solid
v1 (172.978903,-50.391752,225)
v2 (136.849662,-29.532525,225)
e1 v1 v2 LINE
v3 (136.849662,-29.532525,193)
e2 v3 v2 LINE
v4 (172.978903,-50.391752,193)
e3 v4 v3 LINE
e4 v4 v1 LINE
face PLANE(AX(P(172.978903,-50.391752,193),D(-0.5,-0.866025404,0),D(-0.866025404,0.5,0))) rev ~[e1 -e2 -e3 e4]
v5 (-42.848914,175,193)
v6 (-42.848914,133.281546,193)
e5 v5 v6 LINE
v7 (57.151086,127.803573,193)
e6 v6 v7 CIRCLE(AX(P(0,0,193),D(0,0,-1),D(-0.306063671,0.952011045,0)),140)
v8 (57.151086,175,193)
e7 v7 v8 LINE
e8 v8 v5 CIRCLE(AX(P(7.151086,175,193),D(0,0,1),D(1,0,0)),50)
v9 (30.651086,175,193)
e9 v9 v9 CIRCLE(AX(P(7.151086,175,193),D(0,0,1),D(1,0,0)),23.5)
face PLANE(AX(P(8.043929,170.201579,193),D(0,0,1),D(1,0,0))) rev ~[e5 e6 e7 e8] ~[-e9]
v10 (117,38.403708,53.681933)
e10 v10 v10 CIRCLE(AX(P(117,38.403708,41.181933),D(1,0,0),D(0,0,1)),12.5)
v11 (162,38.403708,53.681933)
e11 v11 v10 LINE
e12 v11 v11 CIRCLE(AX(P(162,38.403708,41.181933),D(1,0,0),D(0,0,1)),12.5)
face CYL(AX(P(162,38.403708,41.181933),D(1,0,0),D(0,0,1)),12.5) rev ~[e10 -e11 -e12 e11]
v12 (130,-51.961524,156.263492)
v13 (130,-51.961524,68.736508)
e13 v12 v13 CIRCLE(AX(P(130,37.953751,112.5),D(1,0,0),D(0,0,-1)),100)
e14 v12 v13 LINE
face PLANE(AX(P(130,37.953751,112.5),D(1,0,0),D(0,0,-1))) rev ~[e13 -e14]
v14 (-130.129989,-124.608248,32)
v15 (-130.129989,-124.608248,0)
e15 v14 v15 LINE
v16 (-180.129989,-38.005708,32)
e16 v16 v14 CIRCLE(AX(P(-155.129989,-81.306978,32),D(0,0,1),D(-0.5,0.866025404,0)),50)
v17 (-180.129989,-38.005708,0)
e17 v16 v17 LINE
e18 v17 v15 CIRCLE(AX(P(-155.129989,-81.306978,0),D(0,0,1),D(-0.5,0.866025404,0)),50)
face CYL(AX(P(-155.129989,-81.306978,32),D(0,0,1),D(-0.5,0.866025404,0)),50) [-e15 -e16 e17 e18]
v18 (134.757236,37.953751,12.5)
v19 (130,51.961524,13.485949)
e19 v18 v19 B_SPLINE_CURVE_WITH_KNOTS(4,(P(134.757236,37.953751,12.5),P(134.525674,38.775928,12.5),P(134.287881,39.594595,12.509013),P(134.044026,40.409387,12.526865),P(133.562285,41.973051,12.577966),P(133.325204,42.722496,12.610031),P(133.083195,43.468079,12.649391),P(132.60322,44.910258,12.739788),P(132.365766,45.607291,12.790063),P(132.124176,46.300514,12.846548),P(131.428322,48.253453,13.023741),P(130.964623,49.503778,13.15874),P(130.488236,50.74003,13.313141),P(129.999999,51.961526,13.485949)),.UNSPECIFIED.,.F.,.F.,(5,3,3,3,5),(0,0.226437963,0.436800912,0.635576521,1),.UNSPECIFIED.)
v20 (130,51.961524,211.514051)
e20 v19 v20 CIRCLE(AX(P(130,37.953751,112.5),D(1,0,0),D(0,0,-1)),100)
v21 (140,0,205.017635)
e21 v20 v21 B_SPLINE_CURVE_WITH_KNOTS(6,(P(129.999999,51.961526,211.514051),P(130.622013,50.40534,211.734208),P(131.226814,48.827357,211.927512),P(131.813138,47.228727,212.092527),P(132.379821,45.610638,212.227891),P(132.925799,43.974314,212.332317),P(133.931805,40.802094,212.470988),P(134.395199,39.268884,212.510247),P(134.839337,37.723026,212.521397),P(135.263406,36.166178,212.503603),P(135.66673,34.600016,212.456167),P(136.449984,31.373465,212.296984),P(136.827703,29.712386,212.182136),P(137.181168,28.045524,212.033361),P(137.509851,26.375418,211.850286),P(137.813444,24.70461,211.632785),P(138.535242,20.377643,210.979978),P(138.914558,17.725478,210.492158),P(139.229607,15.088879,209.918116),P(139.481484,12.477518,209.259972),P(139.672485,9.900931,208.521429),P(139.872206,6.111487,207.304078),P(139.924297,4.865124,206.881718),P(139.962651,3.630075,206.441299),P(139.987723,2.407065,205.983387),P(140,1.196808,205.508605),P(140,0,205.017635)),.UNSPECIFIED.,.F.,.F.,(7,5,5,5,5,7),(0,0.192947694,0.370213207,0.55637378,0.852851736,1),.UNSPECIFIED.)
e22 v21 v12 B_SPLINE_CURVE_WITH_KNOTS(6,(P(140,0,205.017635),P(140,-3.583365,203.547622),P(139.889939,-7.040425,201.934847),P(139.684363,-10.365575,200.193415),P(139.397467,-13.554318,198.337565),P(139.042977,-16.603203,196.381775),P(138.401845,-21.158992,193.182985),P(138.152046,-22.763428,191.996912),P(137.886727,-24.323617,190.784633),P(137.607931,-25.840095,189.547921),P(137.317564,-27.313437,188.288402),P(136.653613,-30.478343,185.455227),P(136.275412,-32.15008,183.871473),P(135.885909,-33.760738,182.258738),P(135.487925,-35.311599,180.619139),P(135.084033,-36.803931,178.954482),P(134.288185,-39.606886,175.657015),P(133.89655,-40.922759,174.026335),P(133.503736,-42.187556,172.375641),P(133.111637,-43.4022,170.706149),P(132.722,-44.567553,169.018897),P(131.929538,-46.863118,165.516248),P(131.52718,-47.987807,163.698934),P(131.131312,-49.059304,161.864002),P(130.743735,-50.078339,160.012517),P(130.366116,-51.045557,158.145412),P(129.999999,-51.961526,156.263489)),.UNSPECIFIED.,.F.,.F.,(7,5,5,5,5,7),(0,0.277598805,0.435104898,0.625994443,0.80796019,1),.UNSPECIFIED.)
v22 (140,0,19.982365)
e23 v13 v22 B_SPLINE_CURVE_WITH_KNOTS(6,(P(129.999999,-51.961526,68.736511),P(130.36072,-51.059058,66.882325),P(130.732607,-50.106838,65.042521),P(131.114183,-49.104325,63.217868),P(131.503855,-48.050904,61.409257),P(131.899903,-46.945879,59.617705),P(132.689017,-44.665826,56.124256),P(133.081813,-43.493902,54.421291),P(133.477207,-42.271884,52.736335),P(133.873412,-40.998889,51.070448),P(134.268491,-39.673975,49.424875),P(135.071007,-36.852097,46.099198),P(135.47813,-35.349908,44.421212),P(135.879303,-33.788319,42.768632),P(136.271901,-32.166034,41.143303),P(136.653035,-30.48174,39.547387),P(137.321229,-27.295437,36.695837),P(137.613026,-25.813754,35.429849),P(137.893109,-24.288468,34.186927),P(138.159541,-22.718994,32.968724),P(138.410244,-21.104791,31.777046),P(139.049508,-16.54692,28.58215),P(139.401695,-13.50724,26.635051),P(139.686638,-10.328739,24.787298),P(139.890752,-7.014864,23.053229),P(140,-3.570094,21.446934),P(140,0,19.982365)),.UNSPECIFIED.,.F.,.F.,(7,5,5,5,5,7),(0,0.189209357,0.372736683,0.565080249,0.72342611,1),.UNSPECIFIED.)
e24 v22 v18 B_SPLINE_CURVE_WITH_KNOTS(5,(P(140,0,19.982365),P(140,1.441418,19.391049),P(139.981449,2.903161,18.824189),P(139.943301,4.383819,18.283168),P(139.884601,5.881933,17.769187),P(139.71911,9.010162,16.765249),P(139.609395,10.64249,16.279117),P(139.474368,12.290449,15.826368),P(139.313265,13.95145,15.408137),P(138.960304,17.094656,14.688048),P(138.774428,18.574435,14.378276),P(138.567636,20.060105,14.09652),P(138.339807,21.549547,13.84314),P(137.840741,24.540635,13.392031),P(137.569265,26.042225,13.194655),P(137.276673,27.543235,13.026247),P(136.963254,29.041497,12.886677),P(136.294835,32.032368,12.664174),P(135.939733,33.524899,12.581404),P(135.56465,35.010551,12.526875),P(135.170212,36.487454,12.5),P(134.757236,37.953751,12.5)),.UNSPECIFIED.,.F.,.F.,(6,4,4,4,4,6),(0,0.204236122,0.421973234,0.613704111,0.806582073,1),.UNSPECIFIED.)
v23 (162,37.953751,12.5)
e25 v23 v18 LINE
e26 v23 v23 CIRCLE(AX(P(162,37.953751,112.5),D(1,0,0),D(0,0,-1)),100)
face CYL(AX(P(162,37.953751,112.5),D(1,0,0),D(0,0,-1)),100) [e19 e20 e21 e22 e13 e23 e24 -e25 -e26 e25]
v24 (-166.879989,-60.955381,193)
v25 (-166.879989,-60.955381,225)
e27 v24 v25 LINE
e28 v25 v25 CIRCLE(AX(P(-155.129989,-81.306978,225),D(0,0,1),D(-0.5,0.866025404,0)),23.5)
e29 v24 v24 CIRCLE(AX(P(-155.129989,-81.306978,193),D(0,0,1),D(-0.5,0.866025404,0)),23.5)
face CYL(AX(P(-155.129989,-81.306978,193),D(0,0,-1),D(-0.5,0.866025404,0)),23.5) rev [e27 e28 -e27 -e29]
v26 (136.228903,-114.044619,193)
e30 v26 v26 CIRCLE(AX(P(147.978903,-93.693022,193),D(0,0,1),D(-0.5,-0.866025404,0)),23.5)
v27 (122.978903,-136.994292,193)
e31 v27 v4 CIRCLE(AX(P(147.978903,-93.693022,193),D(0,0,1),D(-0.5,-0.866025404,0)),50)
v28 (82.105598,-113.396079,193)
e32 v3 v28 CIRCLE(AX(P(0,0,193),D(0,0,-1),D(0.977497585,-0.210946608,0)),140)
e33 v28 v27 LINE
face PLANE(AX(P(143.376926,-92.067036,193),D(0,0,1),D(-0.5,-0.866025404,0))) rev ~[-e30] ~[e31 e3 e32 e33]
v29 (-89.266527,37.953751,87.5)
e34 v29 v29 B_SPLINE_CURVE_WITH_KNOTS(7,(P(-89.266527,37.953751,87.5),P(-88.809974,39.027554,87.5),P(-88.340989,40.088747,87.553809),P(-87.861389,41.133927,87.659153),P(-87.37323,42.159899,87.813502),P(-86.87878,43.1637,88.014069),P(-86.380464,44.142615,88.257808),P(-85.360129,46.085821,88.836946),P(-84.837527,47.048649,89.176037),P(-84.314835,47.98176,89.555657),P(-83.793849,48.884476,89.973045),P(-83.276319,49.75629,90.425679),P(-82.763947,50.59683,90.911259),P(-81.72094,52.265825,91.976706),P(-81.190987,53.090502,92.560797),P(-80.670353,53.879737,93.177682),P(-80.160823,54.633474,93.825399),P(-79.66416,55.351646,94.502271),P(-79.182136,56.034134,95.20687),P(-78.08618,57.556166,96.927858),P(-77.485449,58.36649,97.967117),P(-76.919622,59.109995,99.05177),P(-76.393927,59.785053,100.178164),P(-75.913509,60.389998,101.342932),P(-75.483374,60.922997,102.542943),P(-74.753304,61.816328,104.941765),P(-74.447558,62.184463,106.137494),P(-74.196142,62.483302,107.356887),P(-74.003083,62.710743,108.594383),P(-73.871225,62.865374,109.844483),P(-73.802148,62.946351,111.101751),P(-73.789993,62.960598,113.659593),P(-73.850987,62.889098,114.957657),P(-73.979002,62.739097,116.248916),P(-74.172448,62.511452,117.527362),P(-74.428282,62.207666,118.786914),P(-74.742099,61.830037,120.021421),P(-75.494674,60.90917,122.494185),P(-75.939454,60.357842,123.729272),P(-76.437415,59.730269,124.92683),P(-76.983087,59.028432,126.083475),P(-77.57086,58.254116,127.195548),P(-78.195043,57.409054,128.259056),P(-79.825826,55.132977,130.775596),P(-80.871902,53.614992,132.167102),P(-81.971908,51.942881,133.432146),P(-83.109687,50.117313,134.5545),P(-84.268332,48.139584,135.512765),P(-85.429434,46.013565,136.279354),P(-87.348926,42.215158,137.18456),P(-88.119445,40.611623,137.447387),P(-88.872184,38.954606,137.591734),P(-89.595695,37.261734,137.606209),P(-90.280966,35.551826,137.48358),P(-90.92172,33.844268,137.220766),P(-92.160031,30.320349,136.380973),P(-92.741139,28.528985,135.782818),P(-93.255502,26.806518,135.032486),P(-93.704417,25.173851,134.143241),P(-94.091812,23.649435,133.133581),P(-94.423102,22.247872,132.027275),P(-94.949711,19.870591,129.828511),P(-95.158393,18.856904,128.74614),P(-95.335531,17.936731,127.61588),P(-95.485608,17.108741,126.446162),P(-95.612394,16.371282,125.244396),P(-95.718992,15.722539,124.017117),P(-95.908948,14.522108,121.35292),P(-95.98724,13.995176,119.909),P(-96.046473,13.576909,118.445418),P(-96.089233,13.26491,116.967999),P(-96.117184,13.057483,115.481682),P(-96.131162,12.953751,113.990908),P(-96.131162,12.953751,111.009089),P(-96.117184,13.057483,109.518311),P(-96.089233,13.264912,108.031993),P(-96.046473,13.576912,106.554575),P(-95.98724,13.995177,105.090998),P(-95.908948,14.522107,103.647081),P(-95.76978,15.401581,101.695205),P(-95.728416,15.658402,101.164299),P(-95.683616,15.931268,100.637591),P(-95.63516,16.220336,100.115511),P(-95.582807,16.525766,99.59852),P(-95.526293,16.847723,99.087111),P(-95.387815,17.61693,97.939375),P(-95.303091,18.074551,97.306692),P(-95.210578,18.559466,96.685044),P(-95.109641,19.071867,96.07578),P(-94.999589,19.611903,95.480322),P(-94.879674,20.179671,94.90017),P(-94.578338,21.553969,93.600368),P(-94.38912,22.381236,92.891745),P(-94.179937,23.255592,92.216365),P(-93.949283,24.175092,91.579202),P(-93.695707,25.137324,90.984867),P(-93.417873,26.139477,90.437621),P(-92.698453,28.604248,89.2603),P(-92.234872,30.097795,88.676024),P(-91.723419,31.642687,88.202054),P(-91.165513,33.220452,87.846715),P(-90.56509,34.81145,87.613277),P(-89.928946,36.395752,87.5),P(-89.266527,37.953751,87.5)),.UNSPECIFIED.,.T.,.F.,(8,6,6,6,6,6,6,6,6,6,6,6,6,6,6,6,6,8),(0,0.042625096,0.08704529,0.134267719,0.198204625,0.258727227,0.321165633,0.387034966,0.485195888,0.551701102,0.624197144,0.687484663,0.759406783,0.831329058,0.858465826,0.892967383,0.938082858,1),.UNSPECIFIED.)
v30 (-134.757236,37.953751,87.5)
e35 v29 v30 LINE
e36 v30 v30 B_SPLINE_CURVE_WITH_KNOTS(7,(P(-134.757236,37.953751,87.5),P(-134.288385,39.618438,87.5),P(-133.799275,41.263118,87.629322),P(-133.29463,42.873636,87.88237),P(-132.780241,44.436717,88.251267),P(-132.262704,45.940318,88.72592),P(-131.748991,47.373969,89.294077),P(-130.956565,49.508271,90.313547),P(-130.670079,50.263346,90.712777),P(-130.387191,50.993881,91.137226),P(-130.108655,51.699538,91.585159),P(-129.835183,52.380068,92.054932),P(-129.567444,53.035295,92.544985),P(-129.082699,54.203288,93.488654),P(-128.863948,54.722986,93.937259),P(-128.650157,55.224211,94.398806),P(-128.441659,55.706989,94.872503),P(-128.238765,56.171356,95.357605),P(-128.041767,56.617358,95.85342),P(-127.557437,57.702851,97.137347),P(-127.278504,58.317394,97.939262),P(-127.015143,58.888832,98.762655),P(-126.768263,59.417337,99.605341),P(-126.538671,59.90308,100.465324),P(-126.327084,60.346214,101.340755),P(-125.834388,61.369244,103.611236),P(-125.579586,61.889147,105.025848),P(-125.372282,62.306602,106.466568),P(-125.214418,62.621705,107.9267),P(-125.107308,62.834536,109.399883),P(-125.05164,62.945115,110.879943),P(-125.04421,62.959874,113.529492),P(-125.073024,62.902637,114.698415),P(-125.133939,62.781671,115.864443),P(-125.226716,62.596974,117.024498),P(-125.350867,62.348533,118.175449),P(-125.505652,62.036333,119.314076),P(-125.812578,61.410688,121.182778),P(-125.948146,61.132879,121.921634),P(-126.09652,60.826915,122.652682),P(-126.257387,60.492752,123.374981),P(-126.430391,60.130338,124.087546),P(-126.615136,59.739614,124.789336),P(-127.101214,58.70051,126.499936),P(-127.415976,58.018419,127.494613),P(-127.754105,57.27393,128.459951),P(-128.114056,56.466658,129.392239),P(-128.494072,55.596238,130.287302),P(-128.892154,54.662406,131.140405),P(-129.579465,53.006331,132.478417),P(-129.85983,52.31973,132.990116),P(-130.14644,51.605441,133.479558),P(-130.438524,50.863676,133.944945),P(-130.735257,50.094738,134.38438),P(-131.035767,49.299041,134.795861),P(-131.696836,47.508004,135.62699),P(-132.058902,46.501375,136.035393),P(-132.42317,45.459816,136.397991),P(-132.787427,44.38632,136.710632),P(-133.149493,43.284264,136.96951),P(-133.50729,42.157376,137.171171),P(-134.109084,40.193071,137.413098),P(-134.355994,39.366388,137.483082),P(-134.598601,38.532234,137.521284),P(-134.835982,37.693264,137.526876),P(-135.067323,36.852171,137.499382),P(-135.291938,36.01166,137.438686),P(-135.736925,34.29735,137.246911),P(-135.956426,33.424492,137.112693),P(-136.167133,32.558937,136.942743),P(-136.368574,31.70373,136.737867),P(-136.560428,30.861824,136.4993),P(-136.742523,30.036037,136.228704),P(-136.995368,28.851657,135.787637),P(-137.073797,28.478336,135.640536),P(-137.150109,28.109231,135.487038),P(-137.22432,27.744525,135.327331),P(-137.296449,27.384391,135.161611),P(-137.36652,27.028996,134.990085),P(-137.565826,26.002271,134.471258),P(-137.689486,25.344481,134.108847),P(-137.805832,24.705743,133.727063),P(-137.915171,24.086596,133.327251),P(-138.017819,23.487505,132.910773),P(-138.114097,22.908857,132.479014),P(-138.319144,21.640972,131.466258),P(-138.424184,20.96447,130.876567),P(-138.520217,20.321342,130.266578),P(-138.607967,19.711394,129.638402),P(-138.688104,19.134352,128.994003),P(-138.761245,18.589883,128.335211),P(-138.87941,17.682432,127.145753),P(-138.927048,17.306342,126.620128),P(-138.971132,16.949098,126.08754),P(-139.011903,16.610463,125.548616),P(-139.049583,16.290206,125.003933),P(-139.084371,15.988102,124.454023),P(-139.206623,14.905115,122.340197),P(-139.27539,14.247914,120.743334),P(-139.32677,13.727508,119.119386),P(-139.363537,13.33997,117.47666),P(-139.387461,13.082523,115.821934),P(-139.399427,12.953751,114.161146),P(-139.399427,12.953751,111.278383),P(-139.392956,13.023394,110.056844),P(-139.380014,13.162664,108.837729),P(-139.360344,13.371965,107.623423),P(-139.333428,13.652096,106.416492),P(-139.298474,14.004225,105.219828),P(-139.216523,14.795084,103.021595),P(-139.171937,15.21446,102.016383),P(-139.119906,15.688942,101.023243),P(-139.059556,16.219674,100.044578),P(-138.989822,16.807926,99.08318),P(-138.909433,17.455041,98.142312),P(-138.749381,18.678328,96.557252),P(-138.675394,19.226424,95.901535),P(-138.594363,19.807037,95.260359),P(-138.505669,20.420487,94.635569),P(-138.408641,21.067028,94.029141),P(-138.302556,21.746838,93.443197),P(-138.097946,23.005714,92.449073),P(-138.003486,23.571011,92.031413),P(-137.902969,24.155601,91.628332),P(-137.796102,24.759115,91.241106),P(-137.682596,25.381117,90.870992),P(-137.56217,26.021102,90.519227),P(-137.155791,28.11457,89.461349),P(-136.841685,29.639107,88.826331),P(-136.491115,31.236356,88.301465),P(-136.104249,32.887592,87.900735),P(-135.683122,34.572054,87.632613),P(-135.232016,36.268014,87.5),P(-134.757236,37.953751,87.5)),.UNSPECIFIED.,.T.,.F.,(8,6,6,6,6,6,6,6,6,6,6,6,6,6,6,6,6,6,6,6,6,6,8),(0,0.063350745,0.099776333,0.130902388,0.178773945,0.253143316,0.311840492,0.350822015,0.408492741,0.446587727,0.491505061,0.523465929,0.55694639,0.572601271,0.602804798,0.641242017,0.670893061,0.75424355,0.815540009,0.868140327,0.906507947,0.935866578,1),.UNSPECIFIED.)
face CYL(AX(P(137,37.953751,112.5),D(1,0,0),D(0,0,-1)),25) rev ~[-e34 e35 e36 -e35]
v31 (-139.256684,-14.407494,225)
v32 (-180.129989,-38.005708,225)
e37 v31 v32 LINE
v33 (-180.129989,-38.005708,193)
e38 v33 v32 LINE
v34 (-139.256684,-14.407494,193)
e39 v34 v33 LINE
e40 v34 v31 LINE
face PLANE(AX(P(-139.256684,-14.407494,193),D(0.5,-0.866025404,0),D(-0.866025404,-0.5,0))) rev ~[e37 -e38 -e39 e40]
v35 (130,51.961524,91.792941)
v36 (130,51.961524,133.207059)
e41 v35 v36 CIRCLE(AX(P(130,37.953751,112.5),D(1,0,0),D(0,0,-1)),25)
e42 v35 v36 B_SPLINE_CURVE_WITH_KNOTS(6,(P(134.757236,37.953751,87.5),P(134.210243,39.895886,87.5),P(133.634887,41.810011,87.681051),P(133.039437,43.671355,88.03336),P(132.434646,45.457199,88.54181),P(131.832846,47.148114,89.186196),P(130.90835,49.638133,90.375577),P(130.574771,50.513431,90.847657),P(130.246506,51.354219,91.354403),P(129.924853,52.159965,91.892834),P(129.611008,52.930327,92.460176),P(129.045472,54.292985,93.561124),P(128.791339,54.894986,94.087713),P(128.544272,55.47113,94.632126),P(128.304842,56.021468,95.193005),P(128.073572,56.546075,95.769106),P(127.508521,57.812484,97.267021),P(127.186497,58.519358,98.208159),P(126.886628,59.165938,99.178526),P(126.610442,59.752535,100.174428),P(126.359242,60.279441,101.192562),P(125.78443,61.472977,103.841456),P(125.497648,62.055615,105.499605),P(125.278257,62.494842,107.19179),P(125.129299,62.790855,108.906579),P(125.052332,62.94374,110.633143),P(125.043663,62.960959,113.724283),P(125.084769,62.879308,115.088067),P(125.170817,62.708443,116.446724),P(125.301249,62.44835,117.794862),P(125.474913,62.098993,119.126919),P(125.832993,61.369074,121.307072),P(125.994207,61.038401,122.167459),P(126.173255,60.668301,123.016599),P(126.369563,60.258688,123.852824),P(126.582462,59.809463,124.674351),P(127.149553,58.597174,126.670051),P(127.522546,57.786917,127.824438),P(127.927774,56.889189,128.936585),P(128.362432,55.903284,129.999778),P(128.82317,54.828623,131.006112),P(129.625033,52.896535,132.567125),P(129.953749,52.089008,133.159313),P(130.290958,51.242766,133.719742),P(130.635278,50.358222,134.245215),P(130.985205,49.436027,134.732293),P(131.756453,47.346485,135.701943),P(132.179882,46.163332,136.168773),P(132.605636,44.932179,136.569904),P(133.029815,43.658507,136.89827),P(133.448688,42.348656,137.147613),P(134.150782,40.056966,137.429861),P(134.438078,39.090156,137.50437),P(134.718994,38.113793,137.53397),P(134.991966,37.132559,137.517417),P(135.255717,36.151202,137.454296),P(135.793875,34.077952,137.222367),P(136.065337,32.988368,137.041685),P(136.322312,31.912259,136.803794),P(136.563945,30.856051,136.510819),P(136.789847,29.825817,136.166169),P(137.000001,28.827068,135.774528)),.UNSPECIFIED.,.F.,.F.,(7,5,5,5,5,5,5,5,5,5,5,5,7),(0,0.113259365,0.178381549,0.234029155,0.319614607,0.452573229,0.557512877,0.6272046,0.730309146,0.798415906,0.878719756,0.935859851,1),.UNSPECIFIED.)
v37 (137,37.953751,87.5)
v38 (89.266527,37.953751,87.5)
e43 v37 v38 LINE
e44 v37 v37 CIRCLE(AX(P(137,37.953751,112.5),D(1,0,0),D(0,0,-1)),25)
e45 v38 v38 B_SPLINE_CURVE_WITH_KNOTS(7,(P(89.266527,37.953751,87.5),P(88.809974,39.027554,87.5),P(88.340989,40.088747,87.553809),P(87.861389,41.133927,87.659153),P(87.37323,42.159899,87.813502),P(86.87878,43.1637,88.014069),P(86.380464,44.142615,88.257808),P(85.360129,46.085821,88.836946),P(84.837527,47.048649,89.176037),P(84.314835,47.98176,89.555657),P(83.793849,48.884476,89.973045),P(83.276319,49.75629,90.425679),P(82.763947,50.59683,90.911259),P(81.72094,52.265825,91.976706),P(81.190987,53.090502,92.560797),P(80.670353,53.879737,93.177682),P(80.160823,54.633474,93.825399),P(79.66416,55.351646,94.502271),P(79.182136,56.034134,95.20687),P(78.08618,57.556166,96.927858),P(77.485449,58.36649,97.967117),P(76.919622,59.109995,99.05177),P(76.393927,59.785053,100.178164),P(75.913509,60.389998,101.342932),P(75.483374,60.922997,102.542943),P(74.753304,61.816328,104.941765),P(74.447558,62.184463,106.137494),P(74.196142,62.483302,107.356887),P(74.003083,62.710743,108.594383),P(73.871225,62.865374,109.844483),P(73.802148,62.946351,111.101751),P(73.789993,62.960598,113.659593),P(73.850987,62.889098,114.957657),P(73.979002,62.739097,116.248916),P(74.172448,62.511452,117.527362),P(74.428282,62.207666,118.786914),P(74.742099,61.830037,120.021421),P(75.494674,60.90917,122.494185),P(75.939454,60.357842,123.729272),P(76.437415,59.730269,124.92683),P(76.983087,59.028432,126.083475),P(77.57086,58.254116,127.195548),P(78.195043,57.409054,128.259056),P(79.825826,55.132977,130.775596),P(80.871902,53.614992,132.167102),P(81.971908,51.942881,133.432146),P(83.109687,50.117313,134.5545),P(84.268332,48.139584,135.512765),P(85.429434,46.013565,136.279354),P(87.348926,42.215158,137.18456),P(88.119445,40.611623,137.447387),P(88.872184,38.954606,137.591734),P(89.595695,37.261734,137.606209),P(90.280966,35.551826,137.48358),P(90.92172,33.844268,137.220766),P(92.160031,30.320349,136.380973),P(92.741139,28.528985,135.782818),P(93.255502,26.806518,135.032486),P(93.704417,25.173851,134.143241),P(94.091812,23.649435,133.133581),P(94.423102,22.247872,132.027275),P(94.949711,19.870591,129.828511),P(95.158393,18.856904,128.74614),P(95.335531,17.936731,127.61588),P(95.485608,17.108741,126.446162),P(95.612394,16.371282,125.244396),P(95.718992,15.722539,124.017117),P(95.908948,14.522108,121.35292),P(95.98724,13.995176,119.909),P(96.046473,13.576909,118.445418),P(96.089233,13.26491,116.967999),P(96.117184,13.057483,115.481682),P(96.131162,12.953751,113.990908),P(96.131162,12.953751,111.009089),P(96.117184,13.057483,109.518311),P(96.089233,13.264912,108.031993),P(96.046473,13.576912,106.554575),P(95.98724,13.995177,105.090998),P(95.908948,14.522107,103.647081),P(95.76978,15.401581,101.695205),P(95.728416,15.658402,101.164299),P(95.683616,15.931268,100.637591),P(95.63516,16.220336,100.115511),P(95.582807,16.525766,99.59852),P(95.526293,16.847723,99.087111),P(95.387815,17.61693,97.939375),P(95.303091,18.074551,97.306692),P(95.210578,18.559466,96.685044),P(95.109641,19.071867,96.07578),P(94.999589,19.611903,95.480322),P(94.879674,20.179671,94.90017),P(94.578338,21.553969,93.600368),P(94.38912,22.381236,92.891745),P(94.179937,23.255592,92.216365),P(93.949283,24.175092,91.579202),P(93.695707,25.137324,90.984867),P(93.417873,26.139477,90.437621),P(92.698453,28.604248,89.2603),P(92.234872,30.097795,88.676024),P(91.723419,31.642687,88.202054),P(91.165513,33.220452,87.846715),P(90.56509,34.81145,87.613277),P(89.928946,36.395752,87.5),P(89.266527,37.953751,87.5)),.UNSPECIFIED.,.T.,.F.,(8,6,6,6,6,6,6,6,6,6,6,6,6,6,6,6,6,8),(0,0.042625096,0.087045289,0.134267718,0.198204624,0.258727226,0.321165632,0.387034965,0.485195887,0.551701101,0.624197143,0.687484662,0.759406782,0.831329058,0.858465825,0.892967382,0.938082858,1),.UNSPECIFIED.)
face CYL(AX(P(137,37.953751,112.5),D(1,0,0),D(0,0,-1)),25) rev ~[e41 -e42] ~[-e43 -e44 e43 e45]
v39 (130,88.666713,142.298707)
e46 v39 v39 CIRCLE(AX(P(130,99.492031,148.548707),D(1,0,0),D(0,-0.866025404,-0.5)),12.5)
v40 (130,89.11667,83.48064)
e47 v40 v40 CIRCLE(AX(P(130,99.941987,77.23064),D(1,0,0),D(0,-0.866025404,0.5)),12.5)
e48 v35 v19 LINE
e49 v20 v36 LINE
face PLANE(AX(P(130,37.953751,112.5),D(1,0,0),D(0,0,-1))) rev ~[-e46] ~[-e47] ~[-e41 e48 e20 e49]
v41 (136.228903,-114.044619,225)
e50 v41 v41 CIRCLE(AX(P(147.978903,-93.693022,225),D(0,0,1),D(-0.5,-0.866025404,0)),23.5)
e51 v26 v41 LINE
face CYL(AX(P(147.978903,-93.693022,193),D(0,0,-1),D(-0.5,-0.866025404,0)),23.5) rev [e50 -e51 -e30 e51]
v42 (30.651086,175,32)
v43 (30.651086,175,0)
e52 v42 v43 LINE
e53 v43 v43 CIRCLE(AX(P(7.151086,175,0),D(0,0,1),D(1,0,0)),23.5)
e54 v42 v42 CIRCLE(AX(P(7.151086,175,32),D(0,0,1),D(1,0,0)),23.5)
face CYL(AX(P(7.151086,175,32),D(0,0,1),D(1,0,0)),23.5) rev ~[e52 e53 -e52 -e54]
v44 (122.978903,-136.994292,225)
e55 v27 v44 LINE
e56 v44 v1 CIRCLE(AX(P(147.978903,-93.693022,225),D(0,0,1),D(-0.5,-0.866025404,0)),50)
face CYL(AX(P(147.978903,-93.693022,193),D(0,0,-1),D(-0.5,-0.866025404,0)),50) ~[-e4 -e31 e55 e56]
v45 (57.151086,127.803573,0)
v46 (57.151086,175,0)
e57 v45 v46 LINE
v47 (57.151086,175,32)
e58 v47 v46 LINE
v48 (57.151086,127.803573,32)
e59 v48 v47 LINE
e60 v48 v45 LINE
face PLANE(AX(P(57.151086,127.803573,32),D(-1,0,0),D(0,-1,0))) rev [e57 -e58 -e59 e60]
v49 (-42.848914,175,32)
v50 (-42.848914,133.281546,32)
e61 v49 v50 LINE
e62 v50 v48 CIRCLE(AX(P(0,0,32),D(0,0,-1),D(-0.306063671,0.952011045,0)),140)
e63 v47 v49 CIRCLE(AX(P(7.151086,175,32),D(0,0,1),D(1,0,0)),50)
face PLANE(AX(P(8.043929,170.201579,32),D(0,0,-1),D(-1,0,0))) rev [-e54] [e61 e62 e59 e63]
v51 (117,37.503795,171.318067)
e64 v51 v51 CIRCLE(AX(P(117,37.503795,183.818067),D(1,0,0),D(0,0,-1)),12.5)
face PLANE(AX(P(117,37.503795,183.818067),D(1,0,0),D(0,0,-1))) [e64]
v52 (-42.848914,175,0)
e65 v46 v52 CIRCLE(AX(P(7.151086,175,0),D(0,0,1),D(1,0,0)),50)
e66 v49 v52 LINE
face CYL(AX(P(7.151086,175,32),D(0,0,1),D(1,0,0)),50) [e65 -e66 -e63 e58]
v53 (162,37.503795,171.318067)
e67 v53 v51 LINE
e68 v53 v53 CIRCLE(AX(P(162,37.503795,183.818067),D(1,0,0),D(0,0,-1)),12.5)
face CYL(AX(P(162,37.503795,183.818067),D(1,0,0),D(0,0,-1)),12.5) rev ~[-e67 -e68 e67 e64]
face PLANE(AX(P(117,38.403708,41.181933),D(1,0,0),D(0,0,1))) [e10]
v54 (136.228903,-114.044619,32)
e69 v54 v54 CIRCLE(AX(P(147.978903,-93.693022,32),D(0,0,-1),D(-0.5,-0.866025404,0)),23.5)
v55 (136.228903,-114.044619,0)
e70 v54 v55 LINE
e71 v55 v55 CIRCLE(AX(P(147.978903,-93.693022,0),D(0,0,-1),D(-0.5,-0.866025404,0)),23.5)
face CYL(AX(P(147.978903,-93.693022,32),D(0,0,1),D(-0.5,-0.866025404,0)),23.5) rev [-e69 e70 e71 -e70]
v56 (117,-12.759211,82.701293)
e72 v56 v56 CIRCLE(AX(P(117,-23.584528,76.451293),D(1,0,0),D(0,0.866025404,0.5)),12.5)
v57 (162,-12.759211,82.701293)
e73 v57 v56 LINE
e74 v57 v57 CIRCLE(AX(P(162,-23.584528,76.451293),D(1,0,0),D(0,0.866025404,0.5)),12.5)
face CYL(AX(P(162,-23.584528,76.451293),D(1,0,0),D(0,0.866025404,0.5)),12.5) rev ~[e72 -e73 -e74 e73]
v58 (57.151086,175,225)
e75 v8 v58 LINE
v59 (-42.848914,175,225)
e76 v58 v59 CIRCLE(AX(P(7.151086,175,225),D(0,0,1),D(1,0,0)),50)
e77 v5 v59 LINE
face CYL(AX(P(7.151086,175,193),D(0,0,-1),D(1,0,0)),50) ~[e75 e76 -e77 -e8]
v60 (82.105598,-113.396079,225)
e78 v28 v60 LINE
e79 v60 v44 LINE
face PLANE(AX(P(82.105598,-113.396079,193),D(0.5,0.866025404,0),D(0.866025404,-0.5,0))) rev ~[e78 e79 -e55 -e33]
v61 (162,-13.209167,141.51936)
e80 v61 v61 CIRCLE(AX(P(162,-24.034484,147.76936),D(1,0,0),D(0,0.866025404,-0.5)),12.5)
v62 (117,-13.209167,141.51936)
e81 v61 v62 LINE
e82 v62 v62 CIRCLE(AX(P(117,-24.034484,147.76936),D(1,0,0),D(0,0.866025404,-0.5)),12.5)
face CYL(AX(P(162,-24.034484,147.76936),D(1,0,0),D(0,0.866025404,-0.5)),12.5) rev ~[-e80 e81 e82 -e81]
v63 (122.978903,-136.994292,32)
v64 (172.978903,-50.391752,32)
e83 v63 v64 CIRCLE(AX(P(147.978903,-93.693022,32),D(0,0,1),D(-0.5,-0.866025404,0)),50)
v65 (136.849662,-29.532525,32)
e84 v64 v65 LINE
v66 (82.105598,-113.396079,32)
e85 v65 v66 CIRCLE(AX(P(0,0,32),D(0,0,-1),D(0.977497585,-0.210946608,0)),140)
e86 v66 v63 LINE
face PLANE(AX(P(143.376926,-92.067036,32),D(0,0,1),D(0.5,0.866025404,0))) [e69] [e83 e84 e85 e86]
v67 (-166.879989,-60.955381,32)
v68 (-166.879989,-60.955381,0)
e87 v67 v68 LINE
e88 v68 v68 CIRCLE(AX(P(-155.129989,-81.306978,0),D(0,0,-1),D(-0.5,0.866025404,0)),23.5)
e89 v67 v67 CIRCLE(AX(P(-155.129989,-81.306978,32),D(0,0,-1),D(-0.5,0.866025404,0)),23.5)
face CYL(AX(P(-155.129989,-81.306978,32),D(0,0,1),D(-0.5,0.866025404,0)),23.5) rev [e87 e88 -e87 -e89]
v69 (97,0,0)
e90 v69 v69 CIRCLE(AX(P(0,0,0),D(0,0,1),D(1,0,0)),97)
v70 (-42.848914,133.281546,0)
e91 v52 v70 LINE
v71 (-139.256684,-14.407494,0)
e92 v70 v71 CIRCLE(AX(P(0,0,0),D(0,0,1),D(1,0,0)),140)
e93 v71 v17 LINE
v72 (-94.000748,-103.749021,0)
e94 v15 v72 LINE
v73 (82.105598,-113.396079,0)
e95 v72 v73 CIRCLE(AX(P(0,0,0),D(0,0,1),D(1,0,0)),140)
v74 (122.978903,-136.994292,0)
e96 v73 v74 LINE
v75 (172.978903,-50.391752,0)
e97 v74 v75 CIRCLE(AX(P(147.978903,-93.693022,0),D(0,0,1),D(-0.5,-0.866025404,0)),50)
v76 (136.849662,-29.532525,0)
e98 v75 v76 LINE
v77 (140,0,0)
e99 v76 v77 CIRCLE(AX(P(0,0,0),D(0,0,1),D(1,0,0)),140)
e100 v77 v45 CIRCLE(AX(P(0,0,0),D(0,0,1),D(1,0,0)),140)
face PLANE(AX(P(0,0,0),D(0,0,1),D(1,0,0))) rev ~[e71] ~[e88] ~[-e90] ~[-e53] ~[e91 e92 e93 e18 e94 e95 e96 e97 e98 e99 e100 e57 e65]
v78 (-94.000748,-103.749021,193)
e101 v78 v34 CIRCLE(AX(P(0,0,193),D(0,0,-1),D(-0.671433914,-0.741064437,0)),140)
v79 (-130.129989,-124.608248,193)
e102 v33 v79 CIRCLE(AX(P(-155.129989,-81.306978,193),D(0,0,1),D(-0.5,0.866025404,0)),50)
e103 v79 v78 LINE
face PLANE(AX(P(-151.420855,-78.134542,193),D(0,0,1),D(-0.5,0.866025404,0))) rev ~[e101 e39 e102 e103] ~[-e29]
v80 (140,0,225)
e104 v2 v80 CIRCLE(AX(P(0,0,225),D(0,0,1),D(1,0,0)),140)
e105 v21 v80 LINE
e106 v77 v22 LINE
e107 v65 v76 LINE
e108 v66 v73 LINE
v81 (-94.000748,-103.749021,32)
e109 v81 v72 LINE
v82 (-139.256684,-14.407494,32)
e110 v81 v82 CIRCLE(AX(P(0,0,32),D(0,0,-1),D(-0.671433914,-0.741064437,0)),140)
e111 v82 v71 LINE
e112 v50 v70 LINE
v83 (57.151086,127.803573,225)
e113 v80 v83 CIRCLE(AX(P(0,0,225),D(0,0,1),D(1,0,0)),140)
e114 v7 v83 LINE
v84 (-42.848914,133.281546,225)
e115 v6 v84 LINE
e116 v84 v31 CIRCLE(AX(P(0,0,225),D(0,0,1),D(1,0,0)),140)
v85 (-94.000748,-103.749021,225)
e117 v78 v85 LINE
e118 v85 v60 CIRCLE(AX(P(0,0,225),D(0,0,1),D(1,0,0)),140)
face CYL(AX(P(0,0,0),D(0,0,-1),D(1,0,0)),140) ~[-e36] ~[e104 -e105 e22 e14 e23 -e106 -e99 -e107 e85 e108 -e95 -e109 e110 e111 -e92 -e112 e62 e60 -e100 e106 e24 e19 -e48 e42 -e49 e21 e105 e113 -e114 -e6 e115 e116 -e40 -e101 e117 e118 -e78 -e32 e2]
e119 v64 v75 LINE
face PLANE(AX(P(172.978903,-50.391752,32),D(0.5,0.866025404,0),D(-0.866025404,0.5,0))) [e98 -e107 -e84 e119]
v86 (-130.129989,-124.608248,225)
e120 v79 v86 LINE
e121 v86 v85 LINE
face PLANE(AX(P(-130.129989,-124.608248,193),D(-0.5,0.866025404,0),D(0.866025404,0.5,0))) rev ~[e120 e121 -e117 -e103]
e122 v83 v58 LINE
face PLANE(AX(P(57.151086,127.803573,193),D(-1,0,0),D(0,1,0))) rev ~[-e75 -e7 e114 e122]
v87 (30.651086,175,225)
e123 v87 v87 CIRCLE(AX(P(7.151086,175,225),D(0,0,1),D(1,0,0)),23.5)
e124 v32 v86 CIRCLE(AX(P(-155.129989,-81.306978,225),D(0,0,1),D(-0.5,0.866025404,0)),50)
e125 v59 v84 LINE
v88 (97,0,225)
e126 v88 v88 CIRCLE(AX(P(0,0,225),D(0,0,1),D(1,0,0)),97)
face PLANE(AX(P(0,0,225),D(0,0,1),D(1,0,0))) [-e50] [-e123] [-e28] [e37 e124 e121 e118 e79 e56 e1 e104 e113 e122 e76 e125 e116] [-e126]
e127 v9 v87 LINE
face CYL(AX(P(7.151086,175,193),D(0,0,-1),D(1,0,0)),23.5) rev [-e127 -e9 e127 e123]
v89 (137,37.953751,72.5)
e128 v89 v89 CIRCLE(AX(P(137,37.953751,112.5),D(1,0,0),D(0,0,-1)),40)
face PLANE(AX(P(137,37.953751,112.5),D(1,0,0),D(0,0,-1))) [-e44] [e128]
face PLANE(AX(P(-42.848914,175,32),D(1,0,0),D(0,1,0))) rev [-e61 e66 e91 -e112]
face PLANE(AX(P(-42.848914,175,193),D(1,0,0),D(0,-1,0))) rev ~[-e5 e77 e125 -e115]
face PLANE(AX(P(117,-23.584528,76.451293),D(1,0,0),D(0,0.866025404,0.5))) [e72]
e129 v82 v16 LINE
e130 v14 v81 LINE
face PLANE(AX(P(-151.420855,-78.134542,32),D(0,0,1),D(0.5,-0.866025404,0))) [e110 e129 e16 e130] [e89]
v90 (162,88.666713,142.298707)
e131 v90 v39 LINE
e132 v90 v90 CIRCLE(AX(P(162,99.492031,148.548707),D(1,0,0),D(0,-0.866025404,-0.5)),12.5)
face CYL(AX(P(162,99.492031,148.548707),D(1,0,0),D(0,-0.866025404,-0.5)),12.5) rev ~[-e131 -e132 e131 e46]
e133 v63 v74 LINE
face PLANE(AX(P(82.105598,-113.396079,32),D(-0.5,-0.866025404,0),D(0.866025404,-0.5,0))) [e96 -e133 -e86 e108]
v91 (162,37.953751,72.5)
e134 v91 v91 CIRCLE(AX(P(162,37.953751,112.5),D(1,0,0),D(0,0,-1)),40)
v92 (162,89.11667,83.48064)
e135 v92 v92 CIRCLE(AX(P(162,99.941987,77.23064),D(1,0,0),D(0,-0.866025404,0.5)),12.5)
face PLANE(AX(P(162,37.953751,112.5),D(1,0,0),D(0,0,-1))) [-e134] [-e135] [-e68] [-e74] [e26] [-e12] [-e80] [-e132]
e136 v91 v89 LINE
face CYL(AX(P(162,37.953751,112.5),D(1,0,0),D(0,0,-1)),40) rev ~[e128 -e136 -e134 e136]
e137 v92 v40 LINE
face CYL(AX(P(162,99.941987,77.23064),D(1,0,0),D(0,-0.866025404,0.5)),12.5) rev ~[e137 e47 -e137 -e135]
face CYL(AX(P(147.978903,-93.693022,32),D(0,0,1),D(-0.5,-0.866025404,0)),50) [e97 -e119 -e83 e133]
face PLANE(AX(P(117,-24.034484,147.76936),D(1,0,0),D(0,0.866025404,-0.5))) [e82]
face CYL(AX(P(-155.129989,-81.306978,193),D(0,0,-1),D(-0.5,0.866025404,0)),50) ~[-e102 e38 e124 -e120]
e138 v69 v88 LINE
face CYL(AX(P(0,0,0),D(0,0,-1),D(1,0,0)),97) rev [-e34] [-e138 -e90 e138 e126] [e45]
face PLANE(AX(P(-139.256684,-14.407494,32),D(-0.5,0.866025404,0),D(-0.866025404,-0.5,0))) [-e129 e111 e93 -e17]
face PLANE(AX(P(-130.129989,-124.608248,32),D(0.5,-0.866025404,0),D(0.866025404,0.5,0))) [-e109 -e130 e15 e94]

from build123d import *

# Parameters (mm, degrees)
ESQUISSE1_R                  = 140
ESQUISSE1_R_2                = 97
BOSS_EXTRU_1_DEPTH           = 225
BOSS_EXTRU_2_START           = -32
ESQUISSE2_R                  = 23.5
BOSS_EXTRU_2_DEPTH           = 32
R_P_TITION_CIRCULAIRE1_COUNT = 3
SYM_TRIE3_START              = -32
SYM_TRIE3_COPY_1_SKETCH_R    = 23.5
SYM_TRIE3_COPY_1_DEPTH       = 32
SYM_TRIE3_COPY_2_SKETCH_R    = 23.5
SYM_TRIE3_COPY_2_DEPTH       = 32
ESQUISSE3_R                  = 100
BOSS_EXTRU_3_DEPTH           = 32
ESQUISSE4_R                  = 40
ENL_V_MAT_EXTRU_1_DEPTH      = 25
ESQUISSE5_R                  = 25
ENL_V_MAT_EXTRU_4_DEPTH      = 468.228990121
ESQUISSE6_R                  = 12.5
ENL_V_MAT_EXTRU_5_DEPTH      = 45
R_P_TITION_CIRCULAIRE2_COUNT = 6


with BuildPart() as part:
    # Esquisse1 → Boss.-Extru.1 (new body)
    with BuildSketch(Plane(origin=(0, 0, 0), x_dir=(0, 1, 0), z_dir=(0, 0, 1))):
        with Locations(Location((0, 0, 0), (0, 0, 270))):
            Circle(ESQUISSE1_R)
        with Locations(Location((0, 0, 0), (0, 0, 270))):
            Circle(ESQUISSE1_R_2, mode=Mode.SUBTRACT)
    extrude(amount=BOSS_EXTRU_1_DEPTH)

    # Esquisse2 → Boss.-Extru.2 (add)
    with BuildSketch(Plane.XY.offset(225).offset(BOSS_EXTRU_2_START)):
        with BuildLine():
            Line((-42.848913936, 175), (-42.848913936, 133.281546264))
            ThreePointArc((-42.848913936, 133.281546264), (7.657681027, 139.790414268), (57.151086064, 127.803573352))
            Line((57.151086064, 127.803573352), (57.151086064, 175))
            ThreePointArc((57.151086064, 175), (7.151086064, 225), (-42.848913936, 175))
        make_face()
        with Locations((7.151086064, 175)):
            Circle(ESQUISSE2_R, mode=Mode.SUBTRACT)
    boss_extru_2 = extrude(amount=BOSS_EXTRU_2_DEPTH)

    # Répétition circulaire1: Boss.-Extru.2 ×3 about axis
    r_p_tition_circulaire1_axis = Axis((0, 0, 0), (0, 0, 1))
    for i in range(1, R_P_TITION_CIRCULAIRE1_COUNT):
        add(boss_extru_2.rotate(r_p_tition_circulaire1_axis, i * 360 / R_P_TITION_CIRCULAIRE1_COUNT))

    # Symétrie3: Boss.-Extru.2 across plane
    add(boss_extru_2.mirror(Plane.XY.offset(112.5)))

    # Symétrie3 copy 1 sketch → Symétrie3 copy 1 (add)
    with BuildSketch(Plane(origin=(0, 0, 0), x_dir=(-0.4999999999999998, 0.8660254037844387, 0), z_dir=(0, 0, -1)).offset(SYM_TRIE3_START)):
        with BuildLine():
            Line((-42.848913936, -175), (-42.848913936, -133.281546264))
            ThreePointArc((-42.848913936, -133.281546264), (7.657681027, -139.790414268), (57.151086064, -127.803573352))
            Line((57.151086064, -127.803573352), (57.151086064, -175))
            ThreePointArc((57.151086064, -175), (7.151086064, -225), (-42.848913936, -175))
        make_face()
        with Locations((7.151086064, -175)):
            Circle(SYM_TRIE3_COPY_1_SKETCH_R, mode=Mode.SUBTRACT)
    extrude(amount=SYM_TRIE3_COPY_1_DEPTH)

    # Symétrie3 copy 2 sketch → Symétrie3 copy 2 (add)
    with BuildSketch(Plane(origin=(0, 0, 0), x_dir=(-0.5000000000000004, -0.8660254037844384, 0), z_dir=(0, 0, -1)).offset(SYM_TRIE3_START)):
        with BuildLine():
            Line((-42.848913936, -175), (-42.848913936, -133.281546264))
            ThreePointArc((-42.848913936, -133.281546264), (7.657681027, -139.790414268), (57.151086064, -127.803573352))
            Line((57.151086064, -127.803573352), (57.151086064, -175))
            ThreePointArc((57.151086064, -175), (7.151086064, -225), (-42.848913936, -175))
        make_face()
        with Locations((7.151086064, -175)):
            Circle(SYM_TRIE3_COPY_2_SKETCH_R, mode=Mode.SUBTRACT)
    extrude(amount=SYM_TRIE3_COPY_2_DEPTH)

    # Esquisse3 → Boss.-Extru.3 (add)
    with BuildSketch(Plane.YZ.offset(162)):
        with Locations(Location((37.953751354, 112.5, 0), (0, 0, 270))):
            Circle(ESQUISSE3_R)
    extrude(amount=-BOSS_EXTRU_3_DEPTH)

    # Esquisse4 → Enlèv. mat.-Extru.1 (cut)
    with BuildSketch(Plane.YZ.offset(162)):
        with Locations(Location((37.953751354, 112.5, 0), (0, 0, 270))):
            Circle(ESQUISSE4_R)
    extrude(amount=-ENL_V_MAT_EXTRU_1_DEPTH, mode=Mode.SUBTRACT)

    # Esquisse5 → Enlèv. mat.-Extru.4 (cut, through all)
    with BuildSketch(Plane.YZ.offset(137)):
        with Locations(Location((37.953751354, 112.5, 0), (0, 0, 270))):
            Circle(ESQUISSE5_R)
    extrude(amount=-ENL_V_MAT_EXTRU_4_DEPTH, mode=Mode.SUBTRACT)

    # Esquisse6 → Enlèv. mat.-Extru.5 (cut)
    with BuildSketch(Plane.YZ.offset(162)):
        with Locations(Location((37.503795096, 183.818066879, 0), (0, 0, 270))):
            Circle(ESQUISSE6_R)
    enl_v_mat_extru_5 = extrude(amount=-ENL_V_MAT_EXTRU_5_DEPTH, mode=Mode.SUBTRACT)

    # Répétition circulaire2: Enlèv. mat.-Extru.5 ×6 about axis
    r_p_tition_circulaire2_axis = Axis((0, 37.953751354, 112.5), (1, 0, 0))
    for i in range(1, R_P_TITION_CIRCULAIRE2_COUNT):
        add(enl_v_mat_extru_5.rotate(r_p_tition_circulaire2_axis, i * 360 / R_P_TITION_CIRCULAIRE2_COUNT), mode=Mode.SUBTRACT)


solid = part.part
